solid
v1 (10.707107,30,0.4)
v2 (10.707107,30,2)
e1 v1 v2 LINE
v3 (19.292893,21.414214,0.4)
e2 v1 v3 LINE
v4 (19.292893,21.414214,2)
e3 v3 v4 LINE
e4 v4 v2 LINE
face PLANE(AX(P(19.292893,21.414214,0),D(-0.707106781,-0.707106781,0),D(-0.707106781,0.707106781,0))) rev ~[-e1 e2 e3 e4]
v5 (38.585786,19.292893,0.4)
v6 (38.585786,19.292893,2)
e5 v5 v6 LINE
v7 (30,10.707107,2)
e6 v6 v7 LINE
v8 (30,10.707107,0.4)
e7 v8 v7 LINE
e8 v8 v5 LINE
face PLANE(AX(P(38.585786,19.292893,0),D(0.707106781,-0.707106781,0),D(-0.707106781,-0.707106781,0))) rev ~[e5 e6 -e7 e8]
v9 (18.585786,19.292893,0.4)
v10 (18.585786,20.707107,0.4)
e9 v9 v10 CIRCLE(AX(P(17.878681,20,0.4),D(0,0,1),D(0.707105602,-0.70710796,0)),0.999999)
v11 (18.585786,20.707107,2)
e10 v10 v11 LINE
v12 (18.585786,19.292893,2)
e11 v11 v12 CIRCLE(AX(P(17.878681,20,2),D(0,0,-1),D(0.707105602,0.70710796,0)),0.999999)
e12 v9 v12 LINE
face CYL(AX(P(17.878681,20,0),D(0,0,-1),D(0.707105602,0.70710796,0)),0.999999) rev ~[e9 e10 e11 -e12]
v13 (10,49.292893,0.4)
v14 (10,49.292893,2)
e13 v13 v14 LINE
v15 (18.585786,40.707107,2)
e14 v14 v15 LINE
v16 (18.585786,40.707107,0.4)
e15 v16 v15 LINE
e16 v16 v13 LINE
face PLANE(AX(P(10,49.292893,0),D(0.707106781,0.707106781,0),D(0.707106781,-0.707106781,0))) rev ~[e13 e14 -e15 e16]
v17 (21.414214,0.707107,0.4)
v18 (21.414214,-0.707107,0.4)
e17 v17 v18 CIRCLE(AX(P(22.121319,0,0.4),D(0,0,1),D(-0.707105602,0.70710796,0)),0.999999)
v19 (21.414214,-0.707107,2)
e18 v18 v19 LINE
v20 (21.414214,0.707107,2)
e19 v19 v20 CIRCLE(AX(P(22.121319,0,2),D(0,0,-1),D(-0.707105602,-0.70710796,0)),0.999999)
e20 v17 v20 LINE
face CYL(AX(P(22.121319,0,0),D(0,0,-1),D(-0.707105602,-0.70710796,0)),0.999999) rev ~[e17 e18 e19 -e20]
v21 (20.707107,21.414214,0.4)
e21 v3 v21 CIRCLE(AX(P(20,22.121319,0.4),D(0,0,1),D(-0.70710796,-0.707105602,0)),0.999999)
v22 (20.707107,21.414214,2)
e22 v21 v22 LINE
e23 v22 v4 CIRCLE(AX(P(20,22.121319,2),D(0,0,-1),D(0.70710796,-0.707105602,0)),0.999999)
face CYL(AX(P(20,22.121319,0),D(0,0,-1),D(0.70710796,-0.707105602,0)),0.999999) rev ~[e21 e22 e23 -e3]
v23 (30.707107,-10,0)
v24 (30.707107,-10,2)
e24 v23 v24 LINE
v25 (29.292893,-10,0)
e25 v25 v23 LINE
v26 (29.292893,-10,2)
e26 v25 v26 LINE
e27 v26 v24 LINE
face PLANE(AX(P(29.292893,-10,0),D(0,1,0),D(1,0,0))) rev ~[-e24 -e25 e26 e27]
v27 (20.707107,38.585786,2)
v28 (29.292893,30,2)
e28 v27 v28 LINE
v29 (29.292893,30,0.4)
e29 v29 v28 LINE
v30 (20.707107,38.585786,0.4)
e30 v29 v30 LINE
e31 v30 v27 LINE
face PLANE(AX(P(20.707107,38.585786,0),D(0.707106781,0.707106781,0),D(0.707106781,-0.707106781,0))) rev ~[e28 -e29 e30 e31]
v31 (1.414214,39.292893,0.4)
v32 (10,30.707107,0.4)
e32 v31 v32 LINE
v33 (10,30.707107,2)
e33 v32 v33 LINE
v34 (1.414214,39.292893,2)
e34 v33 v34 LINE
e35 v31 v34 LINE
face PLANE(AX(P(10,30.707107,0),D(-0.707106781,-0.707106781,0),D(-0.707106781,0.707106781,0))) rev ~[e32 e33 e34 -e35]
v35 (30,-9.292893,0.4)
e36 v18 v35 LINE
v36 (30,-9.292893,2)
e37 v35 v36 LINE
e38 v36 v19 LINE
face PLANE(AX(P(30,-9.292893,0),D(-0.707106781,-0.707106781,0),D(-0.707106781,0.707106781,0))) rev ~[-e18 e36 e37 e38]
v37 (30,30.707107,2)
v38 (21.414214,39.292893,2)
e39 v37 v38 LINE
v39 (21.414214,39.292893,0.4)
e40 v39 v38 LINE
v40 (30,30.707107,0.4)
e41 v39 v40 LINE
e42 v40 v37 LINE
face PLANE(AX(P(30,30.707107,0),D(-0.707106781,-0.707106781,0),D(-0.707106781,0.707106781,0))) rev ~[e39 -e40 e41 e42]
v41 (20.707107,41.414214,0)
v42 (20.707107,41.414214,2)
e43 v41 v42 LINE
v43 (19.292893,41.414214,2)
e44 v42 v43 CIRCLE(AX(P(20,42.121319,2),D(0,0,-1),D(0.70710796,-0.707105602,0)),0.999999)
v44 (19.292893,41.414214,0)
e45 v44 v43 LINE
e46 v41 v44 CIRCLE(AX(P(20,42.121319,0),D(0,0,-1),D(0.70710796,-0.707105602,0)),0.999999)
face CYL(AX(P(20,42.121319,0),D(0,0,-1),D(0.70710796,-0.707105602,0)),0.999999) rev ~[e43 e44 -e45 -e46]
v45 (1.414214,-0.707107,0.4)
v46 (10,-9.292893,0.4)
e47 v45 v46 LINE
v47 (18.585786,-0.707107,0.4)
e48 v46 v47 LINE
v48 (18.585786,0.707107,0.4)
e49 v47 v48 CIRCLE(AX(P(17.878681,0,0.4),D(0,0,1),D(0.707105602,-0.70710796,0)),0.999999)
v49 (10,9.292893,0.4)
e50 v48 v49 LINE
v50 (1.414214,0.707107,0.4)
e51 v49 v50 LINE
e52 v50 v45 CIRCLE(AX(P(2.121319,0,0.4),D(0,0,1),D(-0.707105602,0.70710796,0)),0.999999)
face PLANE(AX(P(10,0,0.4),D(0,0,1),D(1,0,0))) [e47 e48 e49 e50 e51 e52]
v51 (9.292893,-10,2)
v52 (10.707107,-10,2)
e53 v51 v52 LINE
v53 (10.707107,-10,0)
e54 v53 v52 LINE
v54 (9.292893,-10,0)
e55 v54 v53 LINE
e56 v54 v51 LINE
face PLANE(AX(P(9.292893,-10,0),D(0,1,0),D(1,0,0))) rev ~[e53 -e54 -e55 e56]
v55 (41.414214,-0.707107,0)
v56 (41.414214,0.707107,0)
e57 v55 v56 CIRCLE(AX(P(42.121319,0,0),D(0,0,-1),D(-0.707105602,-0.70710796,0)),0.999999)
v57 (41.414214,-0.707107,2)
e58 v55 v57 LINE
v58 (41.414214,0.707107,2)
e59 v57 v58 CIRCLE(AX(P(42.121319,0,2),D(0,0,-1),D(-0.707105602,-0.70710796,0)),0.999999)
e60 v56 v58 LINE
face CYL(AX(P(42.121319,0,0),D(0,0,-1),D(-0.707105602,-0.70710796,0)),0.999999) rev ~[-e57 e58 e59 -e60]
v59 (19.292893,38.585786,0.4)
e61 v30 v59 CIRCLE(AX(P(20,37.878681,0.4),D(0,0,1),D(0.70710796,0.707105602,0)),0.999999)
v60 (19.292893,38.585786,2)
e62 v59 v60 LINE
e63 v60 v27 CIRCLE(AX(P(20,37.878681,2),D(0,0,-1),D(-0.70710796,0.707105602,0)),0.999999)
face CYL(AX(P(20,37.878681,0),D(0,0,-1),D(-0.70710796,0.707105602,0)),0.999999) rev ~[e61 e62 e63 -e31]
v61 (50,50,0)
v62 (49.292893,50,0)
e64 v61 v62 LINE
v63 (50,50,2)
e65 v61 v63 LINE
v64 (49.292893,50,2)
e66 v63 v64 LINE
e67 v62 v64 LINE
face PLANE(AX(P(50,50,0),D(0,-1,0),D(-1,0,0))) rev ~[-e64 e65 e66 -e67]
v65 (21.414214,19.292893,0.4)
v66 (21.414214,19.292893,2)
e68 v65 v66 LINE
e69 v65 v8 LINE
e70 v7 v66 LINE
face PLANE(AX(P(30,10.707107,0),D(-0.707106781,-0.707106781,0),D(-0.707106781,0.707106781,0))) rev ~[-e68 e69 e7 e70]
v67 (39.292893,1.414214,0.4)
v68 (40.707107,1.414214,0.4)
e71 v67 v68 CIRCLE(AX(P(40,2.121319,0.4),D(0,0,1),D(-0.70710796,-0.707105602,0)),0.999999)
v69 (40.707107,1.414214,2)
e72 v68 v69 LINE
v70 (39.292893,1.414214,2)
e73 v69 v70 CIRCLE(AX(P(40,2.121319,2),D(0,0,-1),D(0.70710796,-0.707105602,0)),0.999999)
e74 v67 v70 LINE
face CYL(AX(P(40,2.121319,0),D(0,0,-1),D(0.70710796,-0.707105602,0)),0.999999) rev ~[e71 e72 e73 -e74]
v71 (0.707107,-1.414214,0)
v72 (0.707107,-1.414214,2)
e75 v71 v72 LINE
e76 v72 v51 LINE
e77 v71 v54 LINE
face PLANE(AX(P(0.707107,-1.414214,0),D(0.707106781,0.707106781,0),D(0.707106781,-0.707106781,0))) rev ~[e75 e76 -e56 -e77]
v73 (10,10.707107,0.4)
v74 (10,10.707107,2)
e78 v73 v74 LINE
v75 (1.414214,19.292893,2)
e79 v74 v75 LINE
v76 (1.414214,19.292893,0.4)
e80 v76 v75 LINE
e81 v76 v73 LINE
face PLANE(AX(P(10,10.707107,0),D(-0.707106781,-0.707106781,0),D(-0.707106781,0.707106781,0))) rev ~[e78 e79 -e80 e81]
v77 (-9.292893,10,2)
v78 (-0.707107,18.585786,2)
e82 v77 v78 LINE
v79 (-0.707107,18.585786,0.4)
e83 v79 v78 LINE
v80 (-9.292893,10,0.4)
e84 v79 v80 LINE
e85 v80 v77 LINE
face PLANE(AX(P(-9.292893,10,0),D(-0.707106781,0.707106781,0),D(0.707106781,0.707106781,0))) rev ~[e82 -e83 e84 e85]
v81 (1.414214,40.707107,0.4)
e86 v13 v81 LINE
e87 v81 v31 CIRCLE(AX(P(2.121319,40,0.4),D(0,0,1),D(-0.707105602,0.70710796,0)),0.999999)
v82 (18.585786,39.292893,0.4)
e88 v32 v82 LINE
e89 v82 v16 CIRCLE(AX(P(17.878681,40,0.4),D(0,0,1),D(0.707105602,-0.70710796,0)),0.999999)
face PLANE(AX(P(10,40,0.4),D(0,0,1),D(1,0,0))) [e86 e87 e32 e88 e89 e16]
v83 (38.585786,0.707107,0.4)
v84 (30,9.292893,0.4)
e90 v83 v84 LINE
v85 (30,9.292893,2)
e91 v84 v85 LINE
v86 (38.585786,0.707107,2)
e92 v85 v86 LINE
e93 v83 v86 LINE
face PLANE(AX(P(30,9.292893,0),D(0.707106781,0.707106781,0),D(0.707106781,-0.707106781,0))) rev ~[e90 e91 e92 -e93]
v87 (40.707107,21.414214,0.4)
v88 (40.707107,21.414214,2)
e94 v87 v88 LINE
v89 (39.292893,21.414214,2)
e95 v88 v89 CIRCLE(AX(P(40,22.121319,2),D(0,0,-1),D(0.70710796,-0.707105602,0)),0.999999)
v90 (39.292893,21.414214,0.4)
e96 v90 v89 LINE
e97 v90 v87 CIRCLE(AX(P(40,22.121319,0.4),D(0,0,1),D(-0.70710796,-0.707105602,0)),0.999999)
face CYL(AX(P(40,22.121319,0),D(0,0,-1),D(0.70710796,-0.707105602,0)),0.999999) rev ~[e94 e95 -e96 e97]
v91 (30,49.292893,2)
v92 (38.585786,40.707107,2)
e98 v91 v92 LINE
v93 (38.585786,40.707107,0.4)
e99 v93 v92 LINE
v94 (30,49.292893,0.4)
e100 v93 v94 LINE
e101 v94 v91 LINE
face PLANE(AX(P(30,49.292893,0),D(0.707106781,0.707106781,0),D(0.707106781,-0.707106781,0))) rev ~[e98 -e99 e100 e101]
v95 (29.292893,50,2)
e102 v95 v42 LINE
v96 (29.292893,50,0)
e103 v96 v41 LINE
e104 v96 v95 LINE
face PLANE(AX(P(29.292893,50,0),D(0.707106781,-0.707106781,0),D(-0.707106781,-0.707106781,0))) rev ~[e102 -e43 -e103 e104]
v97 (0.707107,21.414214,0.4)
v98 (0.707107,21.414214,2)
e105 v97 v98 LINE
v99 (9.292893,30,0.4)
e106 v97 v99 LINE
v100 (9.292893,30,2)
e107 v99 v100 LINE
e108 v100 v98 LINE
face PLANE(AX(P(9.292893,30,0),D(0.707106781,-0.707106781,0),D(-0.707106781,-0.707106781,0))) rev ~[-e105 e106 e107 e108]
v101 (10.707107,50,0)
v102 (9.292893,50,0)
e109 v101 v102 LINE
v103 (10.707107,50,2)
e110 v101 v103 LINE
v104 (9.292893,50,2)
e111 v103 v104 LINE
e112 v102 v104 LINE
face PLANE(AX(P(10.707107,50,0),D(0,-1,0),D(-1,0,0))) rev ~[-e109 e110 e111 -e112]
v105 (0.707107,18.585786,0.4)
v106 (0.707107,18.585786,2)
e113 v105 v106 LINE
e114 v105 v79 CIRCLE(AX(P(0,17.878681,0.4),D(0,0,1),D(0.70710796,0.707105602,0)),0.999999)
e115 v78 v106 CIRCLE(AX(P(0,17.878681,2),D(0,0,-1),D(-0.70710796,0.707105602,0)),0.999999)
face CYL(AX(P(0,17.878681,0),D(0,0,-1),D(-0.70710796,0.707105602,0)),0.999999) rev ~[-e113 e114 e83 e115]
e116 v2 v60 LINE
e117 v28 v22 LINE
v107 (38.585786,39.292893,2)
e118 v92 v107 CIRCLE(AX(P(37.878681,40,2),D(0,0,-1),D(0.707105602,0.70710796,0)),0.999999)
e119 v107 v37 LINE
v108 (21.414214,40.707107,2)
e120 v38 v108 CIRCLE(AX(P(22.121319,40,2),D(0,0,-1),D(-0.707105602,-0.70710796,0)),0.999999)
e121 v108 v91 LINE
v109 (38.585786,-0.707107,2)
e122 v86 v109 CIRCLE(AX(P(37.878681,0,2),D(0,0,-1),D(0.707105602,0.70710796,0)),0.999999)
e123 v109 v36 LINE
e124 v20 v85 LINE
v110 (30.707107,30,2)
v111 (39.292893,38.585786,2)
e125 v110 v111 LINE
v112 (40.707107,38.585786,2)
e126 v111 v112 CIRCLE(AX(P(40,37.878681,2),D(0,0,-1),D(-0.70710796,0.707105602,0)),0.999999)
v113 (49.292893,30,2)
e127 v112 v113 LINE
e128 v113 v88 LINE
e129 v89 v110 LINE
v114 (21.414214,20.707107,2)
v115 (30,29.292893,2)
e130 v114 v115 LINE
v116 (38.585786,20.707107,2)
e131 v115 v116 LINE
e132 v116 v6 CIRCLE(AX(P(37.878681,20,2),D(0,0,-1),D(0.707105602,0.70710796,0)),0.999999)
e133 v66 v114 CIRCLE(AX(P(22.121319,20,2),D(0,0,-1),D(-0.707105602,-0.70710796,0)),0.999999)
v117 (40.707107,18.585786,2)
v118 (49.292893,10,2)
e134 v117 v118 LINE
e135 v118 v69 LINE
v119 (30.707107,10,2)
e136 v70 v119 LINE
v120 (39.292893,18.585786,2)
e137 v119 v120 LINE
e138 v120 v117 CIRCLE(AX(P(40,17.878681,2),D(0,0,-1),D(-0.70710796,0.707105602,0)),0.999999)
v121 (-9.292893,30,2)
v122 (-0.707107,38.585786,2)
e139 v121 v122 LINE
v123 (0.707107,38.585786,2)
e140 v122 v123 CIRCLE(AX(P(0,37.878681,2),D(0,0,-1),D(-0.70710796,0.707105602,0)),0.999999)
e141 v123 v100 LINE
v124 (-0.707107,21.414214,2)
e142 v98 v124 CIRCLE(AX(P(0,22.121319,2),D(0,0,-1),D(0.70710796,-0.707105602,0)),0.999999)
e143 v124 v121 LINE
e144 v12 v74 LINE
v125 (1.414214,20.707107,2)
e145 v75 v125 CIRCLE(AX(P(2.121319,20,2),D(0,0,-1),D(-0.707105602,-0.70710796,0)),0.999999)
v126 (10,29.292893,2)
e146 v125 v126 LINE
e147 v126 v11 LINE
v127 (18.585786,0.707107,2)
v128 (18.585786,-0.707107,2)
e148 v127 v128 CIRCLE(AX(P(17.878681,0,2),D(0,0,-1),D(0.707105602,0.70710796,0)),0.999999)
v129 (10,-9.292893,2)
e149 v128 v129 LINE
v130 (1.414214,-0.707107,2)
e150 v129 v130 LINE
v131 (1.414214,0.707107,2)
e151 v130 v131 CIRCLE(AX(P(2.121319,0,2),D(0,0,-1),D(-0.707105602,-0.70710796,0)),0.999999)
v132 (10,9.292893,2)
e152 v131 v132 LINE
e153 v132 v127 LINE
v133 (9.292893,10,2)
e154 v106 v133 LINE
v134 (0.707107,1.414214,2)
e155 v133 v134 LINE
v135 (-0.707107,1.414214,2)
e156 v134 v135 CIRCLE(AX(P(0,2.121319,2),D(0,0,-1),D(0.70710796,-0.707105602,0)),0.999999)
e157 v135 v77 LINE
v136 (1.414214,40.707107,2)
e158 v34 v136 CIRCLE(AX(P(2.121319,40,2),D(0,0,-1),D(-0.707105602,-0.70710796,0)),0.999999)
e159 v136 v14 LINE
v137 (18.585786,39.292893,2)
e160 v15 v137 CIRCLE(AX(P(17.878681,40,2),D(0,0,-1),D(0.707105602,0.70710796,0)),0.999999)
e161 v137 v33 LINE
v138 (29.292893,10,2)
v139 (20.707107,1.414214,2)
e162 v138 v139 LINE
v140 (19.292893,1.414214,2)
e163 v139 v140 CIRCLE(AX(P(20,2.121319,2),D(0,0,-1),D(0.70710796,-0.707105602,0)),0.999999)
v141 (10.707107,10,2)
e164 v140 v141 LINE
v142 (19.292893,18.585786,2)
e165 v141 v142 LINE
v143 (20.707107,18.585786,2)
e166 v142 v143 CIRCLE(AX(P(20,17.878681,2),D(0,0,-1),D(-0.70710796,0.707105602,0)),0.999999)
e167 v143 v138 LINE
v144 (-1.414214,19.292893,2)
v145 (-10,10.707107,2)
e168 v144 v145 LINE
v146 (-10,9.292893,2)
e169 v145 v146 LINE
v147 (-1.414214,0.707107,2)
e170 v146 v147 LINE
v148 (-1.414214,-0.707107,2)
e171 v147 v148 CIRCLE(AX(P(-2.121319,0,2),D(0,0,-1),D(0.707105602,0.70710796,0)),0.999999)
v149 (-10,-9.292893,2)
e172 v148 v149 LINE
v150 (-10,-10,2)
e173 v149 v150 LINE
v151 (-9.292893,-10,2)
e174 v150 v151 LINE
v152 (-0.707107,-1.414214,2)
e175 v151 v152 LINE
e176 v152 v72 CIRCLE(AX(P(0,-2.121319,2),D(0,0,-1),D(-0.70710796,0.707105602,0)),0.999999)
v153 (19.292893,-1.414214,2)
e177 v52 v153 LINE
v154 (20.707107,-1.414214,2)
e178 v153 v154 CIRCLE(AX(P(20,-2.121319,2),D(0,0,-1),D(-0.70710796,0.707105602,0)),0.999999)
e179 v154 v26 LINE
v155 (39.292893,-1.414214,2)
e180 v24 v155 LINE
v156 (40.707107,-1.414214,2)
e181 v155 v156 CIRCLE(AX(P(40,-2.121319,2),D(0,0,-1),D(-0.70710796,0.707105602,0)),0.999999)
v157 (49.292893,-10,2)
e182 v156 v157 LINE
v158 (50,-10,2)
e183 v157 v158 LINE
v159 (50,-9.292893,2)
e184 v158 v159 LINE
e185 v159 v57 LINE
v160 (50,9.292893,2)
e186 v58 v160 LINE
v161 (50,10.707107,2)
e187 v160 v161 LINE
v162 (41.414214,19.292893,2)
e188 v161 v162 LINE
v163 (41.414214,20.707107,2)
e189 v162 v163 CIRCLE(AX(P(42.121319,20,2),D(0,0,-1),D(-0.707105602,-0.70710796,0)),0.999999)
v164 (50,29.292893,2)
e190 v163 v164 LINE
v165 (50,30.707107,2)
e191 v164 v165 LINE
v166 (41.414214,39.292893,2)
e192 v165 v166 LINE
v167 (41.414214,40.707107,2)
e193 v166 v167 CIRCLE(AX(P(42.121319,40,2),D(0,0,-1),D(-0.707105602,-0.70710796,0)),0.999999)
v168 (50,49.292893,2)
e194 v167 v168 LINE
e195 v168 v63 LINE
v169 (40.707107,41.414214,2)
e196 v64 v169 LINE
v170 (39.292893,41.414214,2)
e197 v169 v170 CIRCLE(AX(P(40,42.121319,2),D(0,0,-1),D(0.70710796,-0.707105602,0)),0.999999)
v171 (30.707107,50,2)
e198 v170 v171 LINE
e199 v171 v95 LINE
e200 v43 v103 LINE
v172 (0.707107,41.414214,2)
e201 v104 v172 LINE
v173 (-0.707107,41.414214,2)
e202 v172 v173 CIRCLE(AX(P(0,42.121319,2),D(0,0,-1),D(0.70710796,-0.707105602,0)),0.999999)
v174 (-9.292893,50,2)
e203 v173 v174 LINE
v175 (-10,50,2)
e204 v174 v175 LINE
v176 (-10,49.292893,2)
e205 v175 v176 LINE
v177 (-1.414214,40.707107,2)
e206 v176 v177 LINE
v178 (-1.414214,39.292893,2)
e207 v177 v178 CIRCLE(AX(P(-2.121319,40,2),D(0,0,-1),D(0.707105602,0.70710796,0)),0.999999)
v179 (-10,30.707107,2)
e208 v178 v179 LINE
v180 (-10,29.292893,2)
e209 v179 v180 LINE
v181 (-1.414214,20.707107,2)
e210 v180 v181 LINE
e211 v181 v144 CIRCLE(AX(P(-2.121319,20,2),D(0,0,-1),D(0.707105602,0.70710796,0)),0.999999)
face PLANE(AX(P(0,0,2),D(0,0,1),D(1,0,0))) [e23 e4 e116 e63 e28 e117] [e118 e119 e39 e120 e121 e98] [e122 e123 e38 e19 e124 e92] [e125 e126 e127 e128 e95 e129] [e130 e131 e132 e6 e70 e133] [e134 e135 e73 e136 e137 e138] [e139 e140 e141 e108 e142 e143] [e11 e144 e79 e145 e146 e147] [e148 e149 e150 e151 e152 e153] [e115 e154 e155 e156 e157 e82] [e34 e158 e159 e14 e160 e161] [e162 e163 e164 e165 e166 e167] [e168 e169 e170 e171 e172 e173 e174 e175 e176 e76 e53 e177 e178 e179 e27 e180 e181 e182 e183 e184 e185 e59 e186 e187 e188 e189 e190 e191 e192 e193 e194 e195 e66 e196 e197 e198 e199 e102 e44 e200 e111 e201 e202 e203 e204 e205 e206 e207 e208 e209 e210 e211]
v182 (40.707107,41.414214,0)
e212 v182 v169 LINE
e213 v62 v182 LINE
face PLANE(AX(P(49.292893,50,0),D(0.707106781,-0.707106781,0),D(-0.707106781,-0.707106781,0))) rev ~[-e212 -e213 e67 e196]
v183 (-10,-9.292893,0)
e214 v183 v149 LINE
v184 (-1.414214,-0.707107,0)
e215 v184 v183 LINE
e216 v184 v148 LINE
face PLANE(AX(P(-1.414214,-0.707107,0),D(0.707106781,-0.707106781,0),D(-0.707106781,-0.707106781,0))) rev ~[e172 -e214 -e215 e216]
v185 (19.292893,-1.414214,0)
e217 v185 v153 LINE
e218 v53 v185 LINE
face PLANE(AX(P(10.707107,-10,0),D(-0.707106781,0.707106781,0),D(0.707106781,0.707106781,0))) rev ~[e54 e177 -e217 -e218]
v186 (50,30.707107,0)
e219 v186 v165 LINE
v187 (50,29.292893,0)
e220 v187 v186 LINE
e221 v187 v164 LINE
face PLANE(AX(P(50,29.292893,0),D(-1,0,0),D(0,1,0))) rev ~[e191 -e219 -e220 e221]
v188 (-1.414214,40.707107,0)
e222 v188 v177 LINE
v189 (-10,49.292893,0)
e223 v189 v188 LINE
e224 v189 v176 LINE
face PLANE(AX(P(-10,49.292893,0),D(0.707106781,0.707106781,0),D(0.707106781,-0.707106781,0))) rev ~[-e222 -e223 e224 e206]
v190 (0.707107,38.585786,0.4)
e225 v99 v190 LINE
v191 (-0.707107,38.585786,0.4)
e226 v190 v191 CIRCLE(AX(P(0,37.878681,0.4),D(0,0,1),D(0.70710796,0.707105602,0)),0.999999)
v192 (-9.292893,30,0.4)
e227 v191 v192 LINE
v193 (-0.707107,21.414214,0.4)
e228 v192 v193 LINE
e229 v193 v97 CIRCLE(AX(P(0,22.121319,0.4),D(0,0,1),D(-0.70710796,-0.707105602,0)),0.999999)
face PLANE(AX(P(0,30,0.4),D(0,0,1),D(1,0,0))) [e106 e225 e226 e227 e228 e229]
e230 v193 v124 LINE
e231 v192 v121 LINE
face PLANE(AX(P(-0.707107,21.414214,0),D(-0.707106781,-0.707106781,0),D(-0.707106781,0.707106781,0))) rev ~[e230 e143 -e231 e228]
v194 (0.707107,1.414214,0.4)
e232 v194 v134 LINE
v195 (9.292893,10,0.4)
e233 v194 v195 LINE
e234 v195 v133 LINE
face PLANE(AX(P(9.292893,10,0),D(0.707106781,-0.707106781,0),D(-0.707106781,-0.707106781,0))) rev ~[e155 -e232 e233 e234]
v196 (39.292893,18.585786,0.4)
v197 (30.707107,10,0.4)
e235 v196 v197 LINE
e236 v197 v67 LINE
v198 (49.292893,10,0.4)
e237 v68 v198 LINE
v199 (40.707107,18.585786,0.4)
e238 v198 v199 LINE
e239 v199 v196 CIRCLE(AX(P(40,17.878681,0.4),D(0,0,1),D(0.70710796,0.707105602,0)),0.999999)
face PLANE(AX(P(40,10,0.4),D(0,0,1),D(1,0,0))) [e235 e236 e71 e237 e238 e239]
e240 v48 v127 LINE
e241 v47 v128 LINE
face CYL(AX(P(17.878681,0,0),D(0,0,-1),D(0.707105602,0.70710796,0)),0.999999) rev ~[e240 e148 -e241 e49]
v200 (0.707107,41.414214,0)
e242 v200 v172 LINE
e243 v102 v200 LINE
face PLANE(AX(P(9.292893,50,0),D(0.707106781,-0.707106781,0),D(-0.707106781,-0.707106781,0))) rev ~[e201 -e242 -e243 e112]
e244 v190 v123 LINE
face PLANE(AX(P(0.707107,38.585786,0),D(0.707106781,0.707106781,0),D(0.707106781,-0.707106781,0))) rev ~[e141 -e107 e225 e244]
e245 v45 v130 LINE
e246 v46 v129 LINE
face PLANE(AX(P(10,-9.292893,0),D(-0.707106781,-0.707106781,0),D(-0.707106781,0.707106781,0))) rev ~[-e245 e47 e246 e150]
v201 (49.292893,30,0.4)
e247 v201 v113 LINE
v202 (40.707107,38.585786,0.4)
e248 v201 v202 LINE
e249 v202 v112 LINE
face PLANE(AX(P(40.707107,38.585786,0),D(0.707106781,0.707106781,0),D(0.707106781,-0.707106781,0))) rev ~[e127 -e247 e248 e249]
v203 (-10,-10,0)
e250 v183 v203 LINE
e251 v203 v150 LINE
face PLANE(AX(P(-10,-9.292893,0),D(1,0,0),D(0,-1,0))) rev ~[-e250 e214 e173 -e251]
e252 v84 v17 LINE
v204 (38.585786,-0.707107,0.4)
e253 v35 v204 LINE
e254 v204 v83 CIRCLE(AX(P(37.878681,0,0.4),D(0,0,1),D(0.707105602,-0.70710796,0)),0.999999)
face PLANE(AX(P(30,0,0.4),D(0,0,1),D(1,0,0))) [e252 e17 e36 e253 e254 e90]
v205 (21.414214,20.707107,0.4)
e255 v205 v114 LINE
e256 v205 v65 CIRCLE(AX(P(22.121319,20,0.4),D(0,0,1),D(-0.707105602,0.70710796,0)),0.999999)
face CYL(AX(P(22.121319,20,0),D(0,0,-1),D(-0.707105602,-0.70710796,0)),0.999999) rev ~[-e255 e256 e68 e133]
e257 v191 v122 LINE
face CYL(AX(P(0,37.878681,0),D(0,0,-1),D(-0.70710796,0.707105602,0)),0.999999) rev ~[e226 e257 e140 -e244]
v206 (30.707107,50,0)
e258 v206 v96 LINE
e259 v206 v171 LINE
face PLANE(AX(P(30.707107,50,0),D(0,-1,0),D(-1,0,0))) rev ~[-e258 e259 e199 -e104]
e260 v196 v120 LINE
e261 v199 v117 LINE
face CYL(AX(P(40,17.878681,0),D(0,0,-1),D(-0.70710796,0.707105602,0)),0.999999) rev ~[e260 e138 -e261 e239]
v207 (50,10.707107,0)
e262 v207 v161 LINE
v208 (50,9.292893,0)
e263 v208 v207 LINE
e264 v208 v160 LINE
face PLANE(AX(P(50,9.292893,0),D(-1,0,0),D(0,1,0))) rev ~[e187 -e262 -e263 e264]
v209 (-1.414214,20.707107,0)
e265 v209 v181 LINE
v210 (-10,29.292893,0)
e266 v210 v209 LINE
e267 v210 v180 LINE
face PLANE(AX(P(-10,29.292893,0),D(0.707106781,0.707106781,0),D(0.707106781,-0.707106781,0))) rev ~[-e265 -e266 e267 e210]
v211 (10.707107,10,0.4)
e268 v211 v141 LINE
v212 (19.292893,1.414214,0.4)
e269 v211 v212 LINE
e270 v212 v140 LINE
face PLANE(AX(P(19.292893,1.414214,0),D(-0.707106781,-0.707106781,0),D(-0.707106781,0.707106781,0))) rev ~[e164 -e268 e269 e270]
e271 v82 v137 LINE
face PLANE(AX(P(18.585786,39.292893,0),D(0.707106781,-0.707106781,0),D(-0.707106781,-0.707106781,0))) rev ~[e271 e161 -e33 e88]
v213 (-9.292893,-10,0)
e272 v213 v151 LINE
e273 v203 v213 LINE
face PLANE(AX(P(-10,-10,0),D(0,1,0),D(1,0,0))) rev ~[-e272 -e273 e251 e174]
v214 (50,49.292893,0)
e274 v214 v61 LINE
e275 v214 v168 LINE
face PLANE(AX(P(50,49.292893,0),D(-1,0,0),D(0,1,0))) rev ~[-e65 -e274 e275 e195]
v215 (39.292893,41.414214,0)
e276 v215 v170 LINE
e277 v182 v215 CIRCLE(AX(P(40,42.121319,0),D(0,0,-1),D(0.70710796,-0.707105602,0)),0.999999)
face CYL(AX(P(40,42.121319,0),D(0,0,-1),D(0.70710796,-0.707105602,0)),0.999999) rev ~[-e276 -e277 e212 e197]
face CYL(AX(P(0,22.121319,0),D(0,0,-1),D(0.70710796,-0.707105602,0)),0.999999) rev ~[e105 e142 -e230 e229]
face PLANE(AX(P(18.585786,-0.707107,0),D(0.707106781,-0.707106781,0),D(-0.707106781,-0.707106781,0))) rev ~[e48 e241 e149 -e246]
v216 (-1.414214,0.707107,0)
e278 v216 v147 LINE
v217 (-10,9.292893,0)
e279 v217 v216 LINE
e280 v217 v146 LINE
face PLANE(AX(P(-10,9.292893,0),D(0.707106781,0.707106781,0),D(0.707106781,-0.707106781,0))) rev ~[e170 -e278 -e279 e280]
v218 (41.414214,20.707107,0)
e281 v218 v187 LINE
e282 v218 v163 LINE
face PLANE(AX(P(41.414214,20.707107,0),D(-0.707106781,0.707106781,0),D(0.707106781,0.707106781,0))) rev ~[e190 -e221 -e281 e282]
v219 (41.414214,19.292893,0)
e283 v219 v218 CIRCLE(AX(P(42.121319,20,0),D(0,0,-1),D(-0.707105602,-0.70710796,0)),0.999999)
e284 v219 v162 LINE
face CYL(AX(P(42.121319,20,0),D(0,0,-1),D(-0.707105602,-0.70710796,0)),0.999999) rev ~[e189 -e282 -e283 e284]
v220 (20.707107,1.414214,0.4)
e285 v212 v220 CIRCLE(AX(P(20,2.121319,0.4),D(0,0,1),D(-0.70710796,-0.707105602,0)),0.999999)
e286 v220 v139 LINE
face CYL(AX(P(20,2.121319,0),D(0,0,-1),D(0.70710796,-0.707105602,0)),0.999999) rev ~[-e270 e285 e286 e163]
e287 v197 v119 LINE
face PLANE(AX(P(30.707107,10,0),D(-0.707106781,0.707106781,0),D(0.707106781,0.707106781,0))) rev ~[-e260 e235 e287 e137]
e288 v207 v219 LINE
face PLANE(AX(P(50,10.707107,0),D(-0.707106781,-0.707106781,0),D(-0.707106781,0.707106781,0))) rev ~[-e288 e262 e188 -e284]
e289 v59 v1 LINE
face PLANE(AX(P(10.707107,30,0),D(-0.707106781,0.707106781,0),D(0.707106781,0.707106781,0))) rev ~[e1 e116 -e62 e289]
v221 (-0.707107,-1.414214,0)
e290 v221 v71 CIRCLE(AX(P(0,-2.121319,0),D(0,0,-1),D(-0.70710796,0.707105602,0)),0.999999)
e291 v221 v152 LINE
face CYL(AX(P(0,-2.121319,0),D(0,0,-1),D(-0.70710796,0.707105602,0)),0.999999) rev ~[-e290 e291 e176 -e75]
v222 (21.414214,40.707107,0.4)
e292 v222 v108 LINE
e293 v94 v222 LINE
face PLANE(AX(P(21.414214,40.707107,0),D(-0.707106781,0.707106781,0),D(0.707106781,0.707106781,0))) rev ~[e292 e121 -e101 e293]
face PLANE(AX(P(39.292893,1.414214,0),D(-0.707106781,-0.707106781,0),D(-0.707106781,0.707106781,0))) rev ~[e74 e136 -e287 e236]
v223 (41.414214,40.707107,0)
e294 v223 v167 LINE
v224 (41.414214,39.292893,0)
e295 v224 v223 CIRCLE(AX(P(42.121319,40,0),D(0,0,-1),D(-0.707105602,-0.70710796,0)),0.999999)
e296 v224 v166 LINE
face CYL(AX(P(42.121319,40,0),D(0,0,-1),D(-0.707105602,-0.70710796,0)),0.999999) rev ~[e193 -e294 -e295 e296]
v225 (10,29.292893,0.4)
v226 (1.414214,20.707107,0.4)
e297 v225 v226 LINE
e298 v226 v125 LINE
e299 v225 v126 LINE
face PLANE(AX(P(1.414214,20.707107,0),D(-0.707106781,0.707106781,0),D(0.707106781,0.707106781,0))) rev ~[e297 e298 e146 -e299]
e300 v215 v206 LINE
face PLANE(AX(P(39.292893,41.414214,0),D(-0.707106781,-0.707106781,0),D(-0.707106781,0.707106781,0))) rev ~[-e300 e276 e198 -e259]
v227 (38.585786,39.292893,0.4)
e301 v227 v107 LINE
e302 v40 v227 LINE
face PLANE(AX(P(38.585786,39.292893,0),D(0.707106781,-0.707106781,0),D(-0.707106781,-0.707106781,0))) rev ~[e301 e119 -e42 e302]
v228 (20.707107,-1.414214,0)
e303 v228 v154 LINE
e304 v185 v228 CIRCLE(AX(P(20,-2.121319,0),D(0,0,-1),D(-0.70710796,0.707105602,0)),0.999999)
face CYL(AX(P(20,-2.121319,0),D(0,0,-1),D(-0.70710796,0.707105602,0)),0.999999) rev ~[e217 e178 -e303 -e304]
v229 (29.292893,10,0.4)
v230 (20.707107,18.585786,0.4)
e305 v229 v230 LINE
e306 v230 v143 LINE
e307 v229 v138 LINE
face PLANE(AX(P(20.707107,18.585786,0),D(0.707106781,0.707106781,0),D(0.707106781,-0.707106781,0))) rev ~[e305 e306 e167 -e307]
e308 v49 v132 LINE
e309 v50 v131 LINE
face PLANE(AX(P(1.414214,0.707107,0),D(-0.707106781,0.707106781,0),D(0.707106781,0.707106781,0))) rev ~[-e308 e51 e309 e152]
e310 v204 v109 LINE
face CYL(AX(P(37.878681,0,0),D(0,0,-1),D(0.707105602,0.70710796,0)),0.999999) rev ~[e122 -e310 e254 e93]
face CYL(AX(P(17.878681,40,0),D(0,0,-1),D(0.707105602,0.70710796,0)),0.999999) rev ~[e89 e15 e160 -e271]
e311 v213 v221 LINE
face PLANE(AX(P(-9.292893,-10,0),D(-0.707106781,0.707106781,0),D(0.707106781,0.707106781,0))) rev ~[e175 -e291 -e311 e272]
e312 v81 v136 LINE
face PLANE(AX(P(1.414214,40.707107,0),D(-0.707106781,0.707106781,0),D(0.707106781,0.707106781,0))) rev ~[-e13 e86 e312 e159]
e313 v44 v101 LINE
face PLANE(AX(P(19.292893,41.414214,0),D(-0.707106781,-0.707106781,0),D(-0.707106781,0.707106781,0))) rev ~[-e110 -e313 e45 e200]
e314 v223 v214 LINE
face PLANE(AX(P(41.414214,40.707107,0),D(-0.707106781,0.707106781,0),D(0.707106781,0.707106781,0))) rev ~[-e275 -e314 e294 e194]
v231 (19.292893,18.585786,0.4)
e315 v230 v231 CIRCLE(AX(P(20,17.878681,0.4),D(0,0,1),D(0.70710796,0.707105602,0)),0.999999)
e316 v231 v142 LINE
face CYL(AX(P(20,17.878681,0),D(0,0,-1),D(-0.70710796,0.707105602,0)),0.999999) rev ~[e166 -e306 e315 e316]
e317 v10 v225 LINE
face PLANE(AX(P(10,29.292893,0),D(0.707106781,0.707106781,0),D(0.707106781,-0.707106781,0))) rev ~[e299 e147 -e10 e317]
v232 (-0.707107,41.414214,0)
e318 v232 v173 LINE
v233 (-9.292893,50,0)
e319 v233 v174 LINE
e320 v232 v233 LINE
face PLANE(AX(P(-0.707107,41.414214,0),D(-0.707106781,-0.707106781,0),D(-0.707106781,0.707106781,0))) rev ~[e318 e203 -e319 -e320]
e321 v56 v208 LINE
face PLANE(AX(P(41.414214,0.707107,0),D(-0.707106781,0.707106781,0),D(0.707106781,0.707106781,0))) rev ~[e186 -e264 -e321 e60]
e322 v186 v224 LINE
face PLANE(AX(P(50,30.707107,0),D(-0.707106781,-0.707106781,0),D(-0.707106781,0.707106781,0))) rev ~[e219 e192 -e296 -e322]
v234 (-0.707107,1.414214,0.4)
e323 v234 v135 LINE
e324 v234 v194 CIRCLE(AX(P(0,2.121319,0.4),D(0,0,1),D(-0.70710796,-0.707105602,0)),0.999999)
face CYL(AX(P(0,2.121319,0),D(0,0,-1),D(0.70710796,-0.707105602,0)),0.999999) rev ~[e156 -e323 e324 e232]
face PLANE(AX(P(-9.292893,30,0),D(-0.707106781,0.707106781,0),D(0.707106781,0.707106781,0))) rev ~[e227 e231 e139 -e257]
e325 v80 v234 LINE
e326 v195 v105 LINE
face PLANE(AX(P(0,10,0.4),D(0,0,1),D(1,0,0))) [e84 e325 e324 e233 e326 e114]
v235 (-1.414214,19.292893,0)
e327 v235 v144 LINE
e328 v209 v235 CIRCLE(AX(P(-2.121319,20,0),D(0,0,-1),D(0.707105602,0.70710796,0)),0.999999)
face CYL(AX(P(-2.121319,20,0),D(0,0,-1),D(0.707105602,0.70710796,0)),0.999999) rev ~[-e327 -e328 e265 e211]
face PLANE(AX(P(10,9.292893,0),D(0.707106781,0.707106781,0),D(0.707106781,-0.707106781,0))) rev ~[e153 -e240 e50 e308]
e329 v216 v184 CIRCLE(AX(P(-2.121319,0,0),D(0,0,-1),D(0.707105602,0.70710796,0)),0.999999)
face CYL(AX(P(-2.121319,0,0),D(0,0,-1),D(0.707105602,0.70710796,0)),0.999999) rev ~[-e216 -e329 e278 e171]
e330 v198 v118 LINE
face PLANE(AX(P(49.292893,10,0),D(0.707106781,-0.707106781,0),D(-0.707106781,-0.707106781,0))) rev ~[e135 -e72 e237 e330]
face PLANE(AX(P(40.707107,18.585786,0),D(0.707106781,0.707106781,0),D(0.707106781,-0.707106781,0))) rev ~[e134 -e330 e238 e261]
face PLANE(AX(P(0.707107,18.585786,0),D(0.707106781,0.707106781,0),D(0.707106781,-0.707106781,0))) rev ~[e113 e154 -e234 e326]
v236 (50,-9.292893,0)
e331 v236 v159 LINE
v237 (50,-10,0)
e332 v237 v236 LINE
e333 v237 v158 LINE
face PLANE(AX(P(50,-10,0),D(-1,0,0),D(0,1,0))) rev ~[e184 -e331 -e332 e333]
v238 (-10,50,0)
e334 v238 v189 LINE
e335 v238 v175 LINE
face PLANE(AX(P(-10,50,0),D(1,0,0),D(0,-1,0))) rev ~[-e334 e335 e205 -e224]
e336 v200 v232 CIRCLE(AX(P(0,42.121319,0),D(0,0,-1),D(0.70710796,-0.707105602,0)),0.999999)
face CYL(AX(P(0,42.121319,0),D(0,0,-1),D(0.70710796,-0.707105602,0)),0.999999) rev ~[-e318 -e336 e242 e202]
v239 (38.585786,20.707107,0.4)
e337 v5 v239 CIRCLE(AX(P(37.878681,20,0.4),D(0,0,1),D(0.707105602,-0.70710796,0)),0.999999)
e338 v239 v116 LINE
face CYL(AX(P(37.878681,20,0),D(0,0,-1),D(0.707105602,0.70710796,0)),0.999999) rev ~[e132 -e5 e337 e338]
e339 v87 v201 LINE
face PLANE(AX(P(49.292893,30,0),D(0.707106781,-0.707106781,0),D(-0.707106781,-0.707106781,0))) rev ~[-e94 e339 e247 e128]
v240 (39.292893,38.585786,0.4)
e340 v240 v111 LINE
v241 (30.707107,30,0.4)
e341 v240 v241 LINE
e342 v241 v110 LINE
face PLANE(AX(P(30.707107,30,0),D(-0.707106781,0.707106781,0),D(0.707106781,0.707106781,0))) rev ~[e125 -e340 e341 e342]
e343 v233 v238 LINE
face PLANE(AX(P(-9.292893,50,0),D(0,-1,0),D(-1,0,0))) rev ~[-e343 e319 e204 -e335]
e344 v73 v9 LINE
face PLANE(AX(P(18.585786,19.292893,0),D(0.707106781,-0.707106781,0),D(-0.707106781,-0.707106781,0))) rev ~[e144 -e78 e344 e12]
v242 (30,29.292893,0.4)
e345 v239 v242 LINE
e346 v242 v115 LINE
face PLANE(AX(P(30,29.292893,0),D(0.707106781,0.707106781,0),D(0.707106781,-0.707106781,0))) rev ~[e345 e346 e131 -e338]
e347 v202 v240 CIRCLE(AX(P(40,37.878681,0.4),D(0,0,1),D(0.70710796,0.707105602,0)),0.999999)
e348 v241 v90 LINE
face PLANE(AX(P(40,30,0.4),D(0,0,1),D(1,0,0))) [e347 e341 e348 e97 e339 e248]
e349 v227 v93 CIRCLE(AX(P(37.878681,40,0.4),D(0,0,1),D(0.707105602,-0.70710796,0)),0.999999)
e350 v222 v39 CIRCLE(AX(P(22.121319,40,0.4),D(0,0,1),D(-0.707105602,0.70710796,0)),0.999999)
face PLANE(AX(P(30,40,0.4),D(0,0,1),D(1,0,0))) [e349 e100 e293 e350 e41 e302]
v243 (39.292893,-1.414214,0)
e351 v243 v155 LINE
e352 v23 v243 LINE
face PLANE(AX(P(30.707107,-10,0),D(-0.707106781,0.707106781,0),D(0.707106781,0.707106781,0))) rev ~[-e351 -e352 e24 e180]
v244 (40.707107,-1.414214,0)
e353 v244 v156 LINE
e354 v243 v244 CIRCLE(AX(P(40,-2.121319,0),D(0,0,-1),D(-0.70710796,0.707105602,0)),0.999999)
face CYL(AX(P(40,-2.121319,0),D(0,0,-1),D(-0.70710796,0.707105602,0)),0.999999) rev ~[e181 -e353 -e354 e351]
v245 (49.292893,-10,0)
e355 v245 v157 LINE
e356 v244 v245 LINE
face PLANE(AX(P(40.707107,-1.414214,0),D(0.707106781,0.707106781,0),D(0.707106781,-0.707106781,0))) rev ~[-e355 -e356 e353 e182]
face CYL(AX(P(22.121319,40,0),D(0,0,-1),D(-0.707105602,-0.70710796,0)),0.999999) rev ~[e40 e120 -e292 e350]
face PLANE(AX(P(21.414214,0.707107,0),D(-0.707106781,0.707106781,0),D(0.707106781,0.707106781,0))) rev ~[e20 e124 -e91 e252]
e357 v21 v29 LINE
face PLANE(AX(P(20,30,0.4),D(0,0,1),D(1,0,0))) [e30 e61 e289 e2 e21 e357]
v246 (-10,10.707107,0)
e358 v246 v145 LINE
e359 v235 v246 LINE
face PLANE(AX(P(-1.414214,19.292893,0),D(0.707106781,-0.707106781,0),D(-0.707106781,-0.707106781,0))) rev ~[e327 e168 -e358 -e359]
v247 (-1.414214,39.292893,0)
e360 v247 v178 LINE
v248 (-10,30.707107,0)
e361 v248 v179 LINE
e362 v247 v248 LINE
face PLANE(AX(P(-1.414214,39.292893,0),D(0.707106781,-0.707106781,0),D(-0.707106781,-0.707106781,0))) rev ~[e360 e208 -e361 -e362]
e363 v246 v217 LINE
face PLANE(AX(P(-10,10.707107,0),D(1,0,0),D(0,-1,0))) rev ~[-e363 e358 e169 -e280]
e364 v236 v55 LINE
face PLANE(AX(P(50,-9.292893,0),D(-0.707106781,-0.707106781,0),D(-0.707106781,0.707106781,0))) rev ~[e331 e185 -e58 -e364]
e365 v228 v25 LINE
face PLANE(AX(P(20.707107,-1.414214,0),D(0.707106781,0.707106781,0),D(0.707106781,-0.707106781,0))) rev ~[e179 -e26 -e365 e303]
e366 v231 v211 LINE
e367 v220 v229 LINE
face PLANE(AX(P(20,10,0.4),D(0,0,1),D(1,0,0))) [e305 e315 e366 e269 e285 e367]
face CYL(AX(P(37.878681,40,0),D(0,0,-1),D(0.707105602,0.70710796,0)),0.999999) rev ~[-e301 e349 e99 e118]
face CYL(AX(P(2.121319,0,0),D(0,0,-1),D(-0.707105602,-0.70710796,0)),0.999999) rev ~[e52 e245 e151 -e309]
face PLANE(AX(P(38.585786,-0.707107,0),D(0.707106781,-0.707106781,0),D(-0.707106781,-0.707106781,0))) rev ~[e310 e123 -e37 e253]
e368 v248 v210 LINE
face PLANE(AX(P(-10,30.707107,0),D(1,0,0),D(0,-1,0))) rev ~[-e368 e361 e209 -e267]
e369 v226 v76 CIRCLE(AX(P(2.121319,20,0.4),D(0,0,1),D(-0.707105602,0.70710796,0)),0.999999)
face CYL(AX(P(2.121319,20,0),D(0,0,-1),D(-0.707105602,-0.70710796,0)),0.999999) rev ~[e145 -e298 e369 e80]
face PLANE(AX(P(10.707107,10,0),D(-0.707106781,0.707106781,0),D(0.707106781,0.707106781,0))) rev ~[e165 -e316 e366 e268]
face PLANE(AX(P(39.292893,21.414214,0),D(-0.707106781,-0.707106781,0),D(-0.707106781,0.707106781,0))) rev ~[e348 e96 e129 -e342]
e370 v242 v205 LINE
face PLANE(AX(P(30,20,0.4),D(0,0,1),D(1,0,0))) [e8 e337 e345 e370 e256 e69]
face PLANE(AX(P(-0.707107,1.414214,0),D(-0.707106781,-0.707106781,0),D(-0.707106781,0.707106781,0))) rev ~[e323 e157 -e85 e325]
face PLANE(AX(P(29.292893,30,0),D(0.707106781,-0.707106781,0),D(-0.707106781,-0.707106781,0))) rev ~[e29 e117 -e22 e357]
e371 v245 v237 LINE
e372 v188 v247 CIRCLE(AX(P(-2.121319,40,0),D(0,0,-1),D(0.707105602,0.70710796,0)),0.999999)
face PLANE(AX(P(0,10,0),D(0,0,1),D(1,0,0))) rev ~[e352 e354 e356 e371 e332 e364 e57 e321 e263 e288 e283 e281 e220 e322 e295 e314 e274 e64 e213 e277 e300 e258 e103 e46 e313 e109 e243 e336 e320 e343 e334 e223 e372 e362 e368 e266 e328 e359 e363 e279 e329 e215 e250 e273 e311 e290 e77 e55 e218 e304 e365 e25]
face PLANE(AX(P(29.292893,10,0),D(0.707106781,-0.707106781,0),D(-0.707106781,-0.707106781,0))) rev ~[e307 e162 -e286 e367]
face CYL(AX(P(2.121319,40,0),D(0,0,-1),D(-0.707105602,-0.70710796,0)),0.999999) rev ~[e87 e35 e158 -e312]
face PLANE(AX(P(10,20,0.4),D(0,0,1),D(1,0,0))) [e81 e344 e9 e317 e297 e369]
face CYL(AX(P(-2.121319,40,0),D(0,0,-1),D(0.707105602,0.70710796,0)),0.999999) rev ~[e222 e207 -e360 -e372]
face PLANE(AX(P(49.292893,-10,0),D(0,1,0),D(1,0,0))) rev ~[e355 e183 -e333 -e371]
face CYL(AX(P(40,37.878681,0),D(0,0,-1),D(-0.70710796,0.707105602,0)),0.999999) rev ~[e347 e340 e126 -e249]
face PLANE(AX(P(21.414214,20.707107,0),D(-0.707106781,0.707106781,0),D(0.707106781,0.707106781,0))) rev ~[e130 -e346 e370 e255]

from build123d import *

# Parameters (mm, degrees)
F1_DEPTH = 2
F2_DEPTH = 0.4


with BuildPart() as f1:
    # F0 (on Top) → F1 (new body)
    with BuildSketch(Plane.XY):
        with BuildLine():
            ThreePointArc((-1.414214, 0.707107), (-1.12132, 0), (-1.414214, -0.707107))
            Line((-1.414214, -0.707107), (-10, -9.292893))
            Line((-10, -9.292893), (-10, -10))
            Line((-10, -10), (-9.292893, -10))
            Line((-9.292893, -10), (-0.707107, -1.414214))
            ThreePointArc((-0.707107, -1.414214), (0, -1.12132), (0.707107, -1.414214))
            Line((0.707107, -1.414214), (9.292893, -10))
            Line((9.292893, -10), (10, -10))
            Line((10, -10), (10, -9.292893))
            Line((10, -9.292893), (1.414214, -0.707107))
            ThreePointArc((1.414214, -0.707107), (1.12132, 0), (1.414214, 0.707107))
            Line((1.414214, 0.707107), (10, 9.292893))
            Line((10, 9.292893), (10, 10))
            Line((10, 10), (9.292893, 10))
            Line((9.292893, 10), (0.707107, 1.414214))
            ThreePointArc((0.707107, 1.414214), (0, 1.12132), (-0.707107, 1.414214))
            Line((-0.707107, 1.414214), (-9.292893, 10))
            Line((-9.292893, 10), (-10, 10))
            Line((-10, 10), (-10, 9.292893))
            Line((-10, 9.292893), (-1.414214, 0.707107))
        make_face()
        with BuildLine():
            Line((10, 10.707107), (10, 10))
            Line((10, 10), (10.707107, 10))
            Line((10.707107, 10), (19.292893, 18.585786))
            ThreePointArc((19.292893, 18.585786), (20, 18.87868), (20.707107, 18.585786))
            Line((20.707107, 18.585786), (29.292893, 10))
            Line((29.292893, 10), (30, 10))
            Line((30, 10), (30, 10.707107))
            Line((30, 10.707107), (21.414214, 19.292893))
            ThreePointArc((21.414214, 19.292893), (21.12132, 20), (21.414214, 20.707107))
            Line((21.414214, 20.707107), (30, 29.292893))
            Line((30, 29.292893), (30, 30))
            Line((30, 30), (29.292893, 30))
            Line((29.292893, 30), (20.707107, 21.414214))
            ThreePointArc((20.707107, 21.414214), (20, 21.12132), (19.292893, 21.414214))
            Line((19.292893, 21.414214), (10.707107, 30))
            Line((10.707107, 30), (10, 30))
            Line((10, 30), (10, 29.292893))
            Line((10, 29.292893), (18.585786, 20.707107))
            ThreePointArc((18.585786, 20.707107), (18.87868, 20), (18.585786, 19.292893))
            Line((18.585786, 19.292893), (10, 10.707107))
        make_face()
        with BuildLine():
            Line((10, -9.292893), (10, -10))
            Line((10, -10), (10.707107, -10))
            Line((10.707107, -10), (19.292893, -1.414214))
            ThreePointArc((19.292893, -1.414214), (20, -1.12132), (20.707107, -1.414214))
            Line((20.707107, -1.414214), (29.292893, -10))
            Line((29.292893, -10), (30, -10))
            Line((30, -10), (30, -9.292893))
            Line((30, -9.292893), (21.414214, -0.707107))
            ThreePointArc((21.414214, -0.707107), (21.12132, 0), (21.414214, 0.707107))
            Line((21.414214, 0.707107), (30, 9.292893))
            Line((30, 9.292893), (30, 10))
            Line((30, 10), (29.292893, 10))
            Line((29.292893, 10), (20.707107, 1.414214))
            ThreePointArc((20.707107, 1.414214), (20, 1.12132), (19.292893, 1.414214))
            Line((19.292893, 1.414214), (10.707107, 10))
            Line((10.707107, 10), (10, 10))
            Line((10, 10), (10, 9.292893))
            Line((10, 9.292893), (18.585786, 0.707107))
            ThreePointArc((18.585786, 0.707107), (18.87868, 0), (18.585786, -0.707107))
            Line((18.585786, -0.707107), (10, -9.292893))
        make_face()
        with BuildLine():
            Line((-10, 10.707107), (-10, 10))
            Line((-10, 10), (-9.292893, 10))
            Line((-9.292893, 10), (-0.707107, 18.585786))
            ThreePointArc((-0.707107, 18.585786), (0, 18.87868), (0.707107, 18.585786))
            Line((0.707107, 18.585786), (9.292893, 10))
            Line((9.292893, 10), (10, 10))
            Line((10, 10), (10, 10.707107))
            Line((10, 10.707107), (1.414214, 19.292893))
            ThreePointArc((1.414214, 19.292893), (1.12132, 20), (1.414214, 20.707107))
            Line((1.414214, 20.707107), (10, 29.292893))
            Line((10, 29.292893), (10, 30))
            Line((10, 30), (9.292893, 30))
            Line((9.292893, 30), (0.707107, 21.414214))
            ThreePointArc((0.707107, 21.414214), (0, 21.12132), (-0.707107, 21.414214))
            Line((-0.707107, 21.414214), (-9.292893, 30))
            Line((-9.292893, 30), (-10, 30))
            Line((-10, 30), (-10, 29.292893))
            Line((-10, 29.292893), (-1.414214, 20.707107))
            ThreePointArc((-1.414214, 20.707107), (-1.12132, 20), (-1.414214, 19.292893))
            Line((-1.414214, 19.292893), (-10, 10.707107))
        make_face()
        with BuildLine():
            Line((30, 10.707107), (30, 10))
            Line((30, 10), (30.707107, 10))
            Line((30.707107, 10), (39.292893, 18.585786))
            ThreePointArc((39.292893, 18.585786), (40, 18.87868), (40.707107, 18.585786))
            Line((40.707107, 18.585786), (49.292893, 10))
            Line((49.292893, 10), (50, 10))
            Line((50, 10), (50, 10.707107))
            Line((50, 10.707107), (41.414214, 19.292893))
            ThreePointArc((41.414214, 19.292893), (41.12132, 20), (41.414214, 20.707107))
            Line((41.414214, 20.707107), (50, 29.292893))
            Line((50, 29.292893), (50, 30))
            Line((50, 30), (49.292893, 30))
            Line((49.292893, 30), (40.707107, 21.414214))
            ThreePointArc((40.707107, 21.414214), (40, 21.12132), (39.292893, 21.414214))
            Line((39.292893, 21.414214), (30.707107, 30))
            Line((30.707107, 30), (30, 30))
            Line((30, 30), (30, 29.292893))
            Line((30, 29.292893), (38.585786, 20.707107))
            ThreePointArc((38.585786, 20.707107), (38.87868, 20), (38.585786, 19.292893))
            Line((38.585786, 19.292893), (30, 10.707107))
        make_face()
        with BuildLine():
            Line((30, -9.292893), (30, -10))
            Line((30, -10), (30.707107, -10))
            Line((30.707107, -10), (39.292893, -1.414214))
            ThreePointArc((39.292893, -1.414214), (40, -1.12132), (40.707107, -1.414214))
            Line((40.707107, -1.414214), (49.292893, -10))
            Line((49.292893, -10), (50, -10))
            Line((50, -10), (50, -9.292893))
            Line((50, -9.292893), (41.414214, -0.707107))
            ThreePointArc((41.414214, -0.707107), (41.12132, 0), (41.414214, 0.707107))
            Line((41.414214, 0.707107), (50, 9.292893))
            Line((50, 9.292893), (50, 10))
            Line((50, 10), (49.292893, 10))
            Line((49.292893, 10), (40.707107, 1.414214))
            ThreePointArc((40.707107, 1.414214), (40, 1.12132), (39.292893, 1.414214))
            Line((39.292893, 1.414214), (30.707107, 10))
            Line((30.707107, 10), (30, 10))
            Line((30, 10), (30, 9.292893))
            Line((30, 9.292893), (38.585786, 0.707107))
            ThreePointArc((38.585786, 0.707107), (38.87868, 0), (38.585786, -0.707107))
            Line((38.585786, -0.707107), (30, -9.292893))
        make_face()
        with BuildLine():
            Line((30, 30.707107), (30, 30))
            Line((30, 30), (30.707107, 30))
            Line((30.707107, 30), (39.292893, 38.585786))
            ThreePointArc((39.292893, 38.585786), (40, 38.87868), (40.707107, 38.585786))
            Line((40.707107, 38.585786), (49.292893, 30))
            Line((49.292893, 30), (50, 30))
            Line((50, 30), (50, 30.707107))
            Line((50, 30.707107), (41.414214, 39.292893))
            ThreePointArc((41.414214, 39.292893), (41.12132, 40), (41.414214, 40.707107))
            Line((41.414214, 40.707107), (50, 49.292893))
            Line((50, 49.292893), (50, 50))
            Line((50, 50), (49.292893, 50))
            Line((49.292893, 50), (40.707107, 41.414214))
            ThreePointArc((40.707107, 41.414214), (40, 41.12132), (39.292893, 41.414214))
            Line((39.292893, 41.414214), (30.707107, 50))
            Line((30.707107, 50), (30, 50))
            Line((30, 50), (30, 49.292893))
            Line((30, 49.292893), (38.585786, 40.707107))
            ThreePointArc((38.585786, 40.707107), (38.87868, 40), (38.585786, 39.292893))
            Line((38.585786, 39.292893), (30, 30.707107))
        make_face()
        with BuildLine():
            Line((10, 30.707107), (10, 30))
            Line((10, 30), (10.707107, 30))
            Line((10.707107, 30), (19.292893, 38.585786))
            ThreePointArc((19.292893, 38.585786), (20, 38.87868), (20.707107, 38.585786))
            Line((20.707107, 38.585786), (29.292893, 30))
            Line((29.292893, 30), (30, 30))
            Line((30, 30), (30, 30.707107))
            Line((30, 30.707107), (21.414214, 39.292893))
            ThreePointArc((21.414214, 39.292893), (21.12132, 40), (21.414214, 40.707107))
            Line((21.414214, 40.707107), (30, 49.292893))
            Line((30, 49.292893), (30, 50))
            Line((30, 50), (29.292893, 50))
            Line((29.292893, 50), (20.707107, 41.414214))
            ThreePointArc((20.707107, 41.414214), (20, 41.12132), (19.292893, 41.414214))
            Line((19.292893, 41.414214), (10.707107, 50))
            Line((10.707107, 50), (10, 50))
            Line((10, 50), (10, 49.292893))
            Line((10, 49.292893), (18.585786, 40.707107))
            ThreePointArc((18.585786, 40.707107), (18.87868, 40), (18.585786, 39.292893))
            Line((18.585786, 39.292893), (10, 30.707107))
        make_face()
        with BuildLine():
            Line((-10, 30.707107), (-10, 30))
            Line((-10, 30), (-9.292893, 30))
            Line((-9.292893, 30), (-0.707107, 38.585786))
            ThreePointArc((-0.707107, 38.585786), (0, 38.87868), (0.707107, 38.585786))
            Line((0.707107, 38.585786), (9.292893, 30))
            Line((9.292893, 30), (10, 30))
            Line((10, 30), (10, 30.707107))
            Line((10, 30.707107), (1.414214, 39.292893))
            ThreePointArc((1.414214, 39.292893), (1.12132, 40), (1.414214, 40.707107))
            Line((1.414214, 40.707107), (10, 49.292893))
            Line((10, 49.292893), (10, 50))
            Line((10, 50), (9.292893, 50))
            Line((9.292893, 50), (0.707107, 41.414214))
            ThreePointArc((0.707107, 41.414214), (0, 41.12132), (-0.707107, 41.414214))
            Line((-0.707107, 41.414214), (-9.292893, 50))
            Line((-9.292893, 50), (-10, 50))
            Line((-10, 50), (-10, 49.292893))
            Line((-10, 49.292893), (-1.414214, 40.707107))
            ThreePointArc((-1.414214, 40.707107), (-1.12132, 40), (-1.414214, 39.292893))
            Line((-1.414214, 39.292893), (-10, 30.707107))
        make_face()
    extrude(amount=F1_DEPTH)

    # F0 (on Top) → F2 (join)
    with BuildSketch(Plane.XY):
        with BuildLine():
            Line((-0.707107, 18.585786), (-9.292893, 10))
            Line((-9.292893, 10), (-0.707107, 1.414214))
            ThreePointArc((-0.707107, 1.414214), (0, 1.12132), (0.707107, 1.414214))
            Line((0.707107, 1.414214), (9.292893, 10))
            Line((9.292893, 10), (0.707107, 18.585786))
            ThreePointArc((0.707107, 18.585786), (0, 18.87868), (-0.707107, 18.585786))
        make_face()
        with BuildLine():
            Line((1.414214, -0.707107), (10, -9.292893))
            Line((10, -9.292893), (18.585786, -0.707107))
            ThreePointArc((18.585786, -0.707107), (18.87868, 0), (18.585786, 0.707107))
            Line((18.585786, 0.707107), (10, 9.292893))
            Line((10, 9.292893), (1.414214, 0.707107))
            ThreePointArc((1.414214, 0.707107), (1.12132, 0), (1.414214, -0.707107))
        make_face()
        with BuildLine():
            Line((1.414214, 19.292893), (10, 10.707107))
            Line((10, 10.707107), (18.585786, 19.292893))
            ThreePointArc((18.585786, 19.292893), (18.87868, 20), (18.585786, 20.707107))
            Line((18.585786, 20.707107), (10, 29.292893))
            Line((10, 29.292893), (1.414214, 20.707107))
            ThreePointArc((1.414214, 20.707107), (1.12132, 20), (1.414214, 19.292893))
        make_face()
        with BuildLine():
            Line((19.292893, 18.585786), (10.707107, 10))
            Line((10.707107, 10), (19.292893, 1.414214))
            ThreePointArc((19.292893, 1.414214), (20, 1.12132), (20.707107, 1.414214))
            Line((20.707107, 1.414214), (29.292893, 10))
            Line((29.292893, 10), (20.707107, 18.585786))
            ThreePointArc((20.707107, 18.585786), (20, 18.87868), (19.292893, 18.585786))
        make_face()
        with BuildLine():
            Line((21.414214, -0.707107), (30, -9.292893))
            Line((30, -9.292893), (38.585786, -0.707107))
            ThreePointArc((38.585786, -0.707107), (38.87868, 0), (38.585786, 0.707107))
            Line((38.585786, 0.707107), (30, 9.292893))
            Line((30, 9.292893), (21.414214, 0.707107))
            ThreePointArc((21.414214, 0.707107), (21.12132, 0), (21.414214, -0.707107))
        make_face()
        with BuildLine():
            Line((21.414214, 19.292893), (30, 10.707107))
            Line((30, 10.707107), (38.585786, 19.292893))
            ThreePointArc((38.585786, 19.292893), (38.87868, 20), (38.585786, 20.707107))
            Line((38.585786, 20.707107), (30, 29.292893))
            Line((30, 29.292893), (21.414214, 20.707107))
            ThreePointArc((21.414214, 20.707107), (21.12132, 20), (21.414214, 19.292893))
        make_face()
        with BuildLine():
            Line((39.292893, 18.585786), (30.707107, 10))
            Line((30.707107, 10), (39.292893, 1.414214))
            ThreePointArc((39.292893, 1.414214), (40, 1.12132), (40.707107, 1.414214))
            Line((40.707107, 1.414214), (49.292893, 10))
            Line((49.292893, 10), (40.707107, 18.585786))
            ThreePointArc((40.707107, 18.585786), (40, 18.87868), (39.292893, 18.585786))
        make_face()
        with BuildLine():
            Line((19.292893, 38.585786), (10.707107, 30))
            Line((10.707107, 30), (19.292893, 21.414214))
            ThreePointArc((19.292893, 21.414214), (20, 21.12132), (20.707107, 21.414214))
            Line((20.707107, 21.414214), (29.292893, 30))
            Line((29.292893, 30), (20.707107, 38.585786))
            ThreePointArc((20.707107, 38.585786), (20, 38.87868), (19.292893, 38.585786))
        make_face()
        with BuildLine():
            Line((1.414214, 39.292893), (10, 30.707107))
            Line((10, 30.707107), (18.585786, 39.292893))
            ThreePointArc((18.585786, 39.292893), (18.87868, 40), (18.585786, 40.707107))
            Line((18.585786, 40.707107), (10, 49.292893))
            Line((10, 49.292893), (1.414214, 40.707107))
            ThreePointArc((1.414214, 40.707107), (1.12132, 40), (1.414214, 39.292893))
        make_face()
        with BuildLine():
            Line((-0.707107, 38.585786), (-9.292893, 30))
            Line((-9.292893, 30), (-0.707107, 21.414214))
            ThreePointArc((-0.707107, 21.414214), (0, 21.12132), (0.707107, 21.414214))
            Line((0.707107, 21.414214), (9.292893, 30))
            Line((9.292893, 30), (0.707107, 38.585786))
            ThreePointArc((0.707107, 38.585786), (0, 38.87868), (-0.707107, 38.585786))
        make_face()
        with BuildLine():
            Line((21.414214, 39.292893), (30, 30.707107))
            Line((30, 30.707107), (38.585786, 39.292893))
            ThreePointArc((38.585786, 39.292893), (38.87868, 40), (38.585786, 40.707107))
            Line((38.585786, 40.707107), (30, 49.292893))
            Line((30, 49.292893), (21.414214, 40.707107))
            ThreePointArc((21.414214, 40.707107), (21.12132, 40), (21.414214, 39.292893))
        make_face()
        with BuildLine():
            Line((39.292893, 38.585786), (30.707107, 30))
            Line((30.707107, 30), (39.292893, 21.414214))
            ThreePointArc((39.292893, 21.414214), (40, 21.12132), (40.707107, 21.414214))
            Line((40.707107, 21.414214), (49.292893, 30))
            Line((49.292893, 30), (40.707107, 38.585786))
            ThreePointArc((40.707107, 38.585786), (40, 38.87868), (39.292893, 38.585786))
        make_face()
    extrude(amount=F2_DEPTH)


solid = f1.part
